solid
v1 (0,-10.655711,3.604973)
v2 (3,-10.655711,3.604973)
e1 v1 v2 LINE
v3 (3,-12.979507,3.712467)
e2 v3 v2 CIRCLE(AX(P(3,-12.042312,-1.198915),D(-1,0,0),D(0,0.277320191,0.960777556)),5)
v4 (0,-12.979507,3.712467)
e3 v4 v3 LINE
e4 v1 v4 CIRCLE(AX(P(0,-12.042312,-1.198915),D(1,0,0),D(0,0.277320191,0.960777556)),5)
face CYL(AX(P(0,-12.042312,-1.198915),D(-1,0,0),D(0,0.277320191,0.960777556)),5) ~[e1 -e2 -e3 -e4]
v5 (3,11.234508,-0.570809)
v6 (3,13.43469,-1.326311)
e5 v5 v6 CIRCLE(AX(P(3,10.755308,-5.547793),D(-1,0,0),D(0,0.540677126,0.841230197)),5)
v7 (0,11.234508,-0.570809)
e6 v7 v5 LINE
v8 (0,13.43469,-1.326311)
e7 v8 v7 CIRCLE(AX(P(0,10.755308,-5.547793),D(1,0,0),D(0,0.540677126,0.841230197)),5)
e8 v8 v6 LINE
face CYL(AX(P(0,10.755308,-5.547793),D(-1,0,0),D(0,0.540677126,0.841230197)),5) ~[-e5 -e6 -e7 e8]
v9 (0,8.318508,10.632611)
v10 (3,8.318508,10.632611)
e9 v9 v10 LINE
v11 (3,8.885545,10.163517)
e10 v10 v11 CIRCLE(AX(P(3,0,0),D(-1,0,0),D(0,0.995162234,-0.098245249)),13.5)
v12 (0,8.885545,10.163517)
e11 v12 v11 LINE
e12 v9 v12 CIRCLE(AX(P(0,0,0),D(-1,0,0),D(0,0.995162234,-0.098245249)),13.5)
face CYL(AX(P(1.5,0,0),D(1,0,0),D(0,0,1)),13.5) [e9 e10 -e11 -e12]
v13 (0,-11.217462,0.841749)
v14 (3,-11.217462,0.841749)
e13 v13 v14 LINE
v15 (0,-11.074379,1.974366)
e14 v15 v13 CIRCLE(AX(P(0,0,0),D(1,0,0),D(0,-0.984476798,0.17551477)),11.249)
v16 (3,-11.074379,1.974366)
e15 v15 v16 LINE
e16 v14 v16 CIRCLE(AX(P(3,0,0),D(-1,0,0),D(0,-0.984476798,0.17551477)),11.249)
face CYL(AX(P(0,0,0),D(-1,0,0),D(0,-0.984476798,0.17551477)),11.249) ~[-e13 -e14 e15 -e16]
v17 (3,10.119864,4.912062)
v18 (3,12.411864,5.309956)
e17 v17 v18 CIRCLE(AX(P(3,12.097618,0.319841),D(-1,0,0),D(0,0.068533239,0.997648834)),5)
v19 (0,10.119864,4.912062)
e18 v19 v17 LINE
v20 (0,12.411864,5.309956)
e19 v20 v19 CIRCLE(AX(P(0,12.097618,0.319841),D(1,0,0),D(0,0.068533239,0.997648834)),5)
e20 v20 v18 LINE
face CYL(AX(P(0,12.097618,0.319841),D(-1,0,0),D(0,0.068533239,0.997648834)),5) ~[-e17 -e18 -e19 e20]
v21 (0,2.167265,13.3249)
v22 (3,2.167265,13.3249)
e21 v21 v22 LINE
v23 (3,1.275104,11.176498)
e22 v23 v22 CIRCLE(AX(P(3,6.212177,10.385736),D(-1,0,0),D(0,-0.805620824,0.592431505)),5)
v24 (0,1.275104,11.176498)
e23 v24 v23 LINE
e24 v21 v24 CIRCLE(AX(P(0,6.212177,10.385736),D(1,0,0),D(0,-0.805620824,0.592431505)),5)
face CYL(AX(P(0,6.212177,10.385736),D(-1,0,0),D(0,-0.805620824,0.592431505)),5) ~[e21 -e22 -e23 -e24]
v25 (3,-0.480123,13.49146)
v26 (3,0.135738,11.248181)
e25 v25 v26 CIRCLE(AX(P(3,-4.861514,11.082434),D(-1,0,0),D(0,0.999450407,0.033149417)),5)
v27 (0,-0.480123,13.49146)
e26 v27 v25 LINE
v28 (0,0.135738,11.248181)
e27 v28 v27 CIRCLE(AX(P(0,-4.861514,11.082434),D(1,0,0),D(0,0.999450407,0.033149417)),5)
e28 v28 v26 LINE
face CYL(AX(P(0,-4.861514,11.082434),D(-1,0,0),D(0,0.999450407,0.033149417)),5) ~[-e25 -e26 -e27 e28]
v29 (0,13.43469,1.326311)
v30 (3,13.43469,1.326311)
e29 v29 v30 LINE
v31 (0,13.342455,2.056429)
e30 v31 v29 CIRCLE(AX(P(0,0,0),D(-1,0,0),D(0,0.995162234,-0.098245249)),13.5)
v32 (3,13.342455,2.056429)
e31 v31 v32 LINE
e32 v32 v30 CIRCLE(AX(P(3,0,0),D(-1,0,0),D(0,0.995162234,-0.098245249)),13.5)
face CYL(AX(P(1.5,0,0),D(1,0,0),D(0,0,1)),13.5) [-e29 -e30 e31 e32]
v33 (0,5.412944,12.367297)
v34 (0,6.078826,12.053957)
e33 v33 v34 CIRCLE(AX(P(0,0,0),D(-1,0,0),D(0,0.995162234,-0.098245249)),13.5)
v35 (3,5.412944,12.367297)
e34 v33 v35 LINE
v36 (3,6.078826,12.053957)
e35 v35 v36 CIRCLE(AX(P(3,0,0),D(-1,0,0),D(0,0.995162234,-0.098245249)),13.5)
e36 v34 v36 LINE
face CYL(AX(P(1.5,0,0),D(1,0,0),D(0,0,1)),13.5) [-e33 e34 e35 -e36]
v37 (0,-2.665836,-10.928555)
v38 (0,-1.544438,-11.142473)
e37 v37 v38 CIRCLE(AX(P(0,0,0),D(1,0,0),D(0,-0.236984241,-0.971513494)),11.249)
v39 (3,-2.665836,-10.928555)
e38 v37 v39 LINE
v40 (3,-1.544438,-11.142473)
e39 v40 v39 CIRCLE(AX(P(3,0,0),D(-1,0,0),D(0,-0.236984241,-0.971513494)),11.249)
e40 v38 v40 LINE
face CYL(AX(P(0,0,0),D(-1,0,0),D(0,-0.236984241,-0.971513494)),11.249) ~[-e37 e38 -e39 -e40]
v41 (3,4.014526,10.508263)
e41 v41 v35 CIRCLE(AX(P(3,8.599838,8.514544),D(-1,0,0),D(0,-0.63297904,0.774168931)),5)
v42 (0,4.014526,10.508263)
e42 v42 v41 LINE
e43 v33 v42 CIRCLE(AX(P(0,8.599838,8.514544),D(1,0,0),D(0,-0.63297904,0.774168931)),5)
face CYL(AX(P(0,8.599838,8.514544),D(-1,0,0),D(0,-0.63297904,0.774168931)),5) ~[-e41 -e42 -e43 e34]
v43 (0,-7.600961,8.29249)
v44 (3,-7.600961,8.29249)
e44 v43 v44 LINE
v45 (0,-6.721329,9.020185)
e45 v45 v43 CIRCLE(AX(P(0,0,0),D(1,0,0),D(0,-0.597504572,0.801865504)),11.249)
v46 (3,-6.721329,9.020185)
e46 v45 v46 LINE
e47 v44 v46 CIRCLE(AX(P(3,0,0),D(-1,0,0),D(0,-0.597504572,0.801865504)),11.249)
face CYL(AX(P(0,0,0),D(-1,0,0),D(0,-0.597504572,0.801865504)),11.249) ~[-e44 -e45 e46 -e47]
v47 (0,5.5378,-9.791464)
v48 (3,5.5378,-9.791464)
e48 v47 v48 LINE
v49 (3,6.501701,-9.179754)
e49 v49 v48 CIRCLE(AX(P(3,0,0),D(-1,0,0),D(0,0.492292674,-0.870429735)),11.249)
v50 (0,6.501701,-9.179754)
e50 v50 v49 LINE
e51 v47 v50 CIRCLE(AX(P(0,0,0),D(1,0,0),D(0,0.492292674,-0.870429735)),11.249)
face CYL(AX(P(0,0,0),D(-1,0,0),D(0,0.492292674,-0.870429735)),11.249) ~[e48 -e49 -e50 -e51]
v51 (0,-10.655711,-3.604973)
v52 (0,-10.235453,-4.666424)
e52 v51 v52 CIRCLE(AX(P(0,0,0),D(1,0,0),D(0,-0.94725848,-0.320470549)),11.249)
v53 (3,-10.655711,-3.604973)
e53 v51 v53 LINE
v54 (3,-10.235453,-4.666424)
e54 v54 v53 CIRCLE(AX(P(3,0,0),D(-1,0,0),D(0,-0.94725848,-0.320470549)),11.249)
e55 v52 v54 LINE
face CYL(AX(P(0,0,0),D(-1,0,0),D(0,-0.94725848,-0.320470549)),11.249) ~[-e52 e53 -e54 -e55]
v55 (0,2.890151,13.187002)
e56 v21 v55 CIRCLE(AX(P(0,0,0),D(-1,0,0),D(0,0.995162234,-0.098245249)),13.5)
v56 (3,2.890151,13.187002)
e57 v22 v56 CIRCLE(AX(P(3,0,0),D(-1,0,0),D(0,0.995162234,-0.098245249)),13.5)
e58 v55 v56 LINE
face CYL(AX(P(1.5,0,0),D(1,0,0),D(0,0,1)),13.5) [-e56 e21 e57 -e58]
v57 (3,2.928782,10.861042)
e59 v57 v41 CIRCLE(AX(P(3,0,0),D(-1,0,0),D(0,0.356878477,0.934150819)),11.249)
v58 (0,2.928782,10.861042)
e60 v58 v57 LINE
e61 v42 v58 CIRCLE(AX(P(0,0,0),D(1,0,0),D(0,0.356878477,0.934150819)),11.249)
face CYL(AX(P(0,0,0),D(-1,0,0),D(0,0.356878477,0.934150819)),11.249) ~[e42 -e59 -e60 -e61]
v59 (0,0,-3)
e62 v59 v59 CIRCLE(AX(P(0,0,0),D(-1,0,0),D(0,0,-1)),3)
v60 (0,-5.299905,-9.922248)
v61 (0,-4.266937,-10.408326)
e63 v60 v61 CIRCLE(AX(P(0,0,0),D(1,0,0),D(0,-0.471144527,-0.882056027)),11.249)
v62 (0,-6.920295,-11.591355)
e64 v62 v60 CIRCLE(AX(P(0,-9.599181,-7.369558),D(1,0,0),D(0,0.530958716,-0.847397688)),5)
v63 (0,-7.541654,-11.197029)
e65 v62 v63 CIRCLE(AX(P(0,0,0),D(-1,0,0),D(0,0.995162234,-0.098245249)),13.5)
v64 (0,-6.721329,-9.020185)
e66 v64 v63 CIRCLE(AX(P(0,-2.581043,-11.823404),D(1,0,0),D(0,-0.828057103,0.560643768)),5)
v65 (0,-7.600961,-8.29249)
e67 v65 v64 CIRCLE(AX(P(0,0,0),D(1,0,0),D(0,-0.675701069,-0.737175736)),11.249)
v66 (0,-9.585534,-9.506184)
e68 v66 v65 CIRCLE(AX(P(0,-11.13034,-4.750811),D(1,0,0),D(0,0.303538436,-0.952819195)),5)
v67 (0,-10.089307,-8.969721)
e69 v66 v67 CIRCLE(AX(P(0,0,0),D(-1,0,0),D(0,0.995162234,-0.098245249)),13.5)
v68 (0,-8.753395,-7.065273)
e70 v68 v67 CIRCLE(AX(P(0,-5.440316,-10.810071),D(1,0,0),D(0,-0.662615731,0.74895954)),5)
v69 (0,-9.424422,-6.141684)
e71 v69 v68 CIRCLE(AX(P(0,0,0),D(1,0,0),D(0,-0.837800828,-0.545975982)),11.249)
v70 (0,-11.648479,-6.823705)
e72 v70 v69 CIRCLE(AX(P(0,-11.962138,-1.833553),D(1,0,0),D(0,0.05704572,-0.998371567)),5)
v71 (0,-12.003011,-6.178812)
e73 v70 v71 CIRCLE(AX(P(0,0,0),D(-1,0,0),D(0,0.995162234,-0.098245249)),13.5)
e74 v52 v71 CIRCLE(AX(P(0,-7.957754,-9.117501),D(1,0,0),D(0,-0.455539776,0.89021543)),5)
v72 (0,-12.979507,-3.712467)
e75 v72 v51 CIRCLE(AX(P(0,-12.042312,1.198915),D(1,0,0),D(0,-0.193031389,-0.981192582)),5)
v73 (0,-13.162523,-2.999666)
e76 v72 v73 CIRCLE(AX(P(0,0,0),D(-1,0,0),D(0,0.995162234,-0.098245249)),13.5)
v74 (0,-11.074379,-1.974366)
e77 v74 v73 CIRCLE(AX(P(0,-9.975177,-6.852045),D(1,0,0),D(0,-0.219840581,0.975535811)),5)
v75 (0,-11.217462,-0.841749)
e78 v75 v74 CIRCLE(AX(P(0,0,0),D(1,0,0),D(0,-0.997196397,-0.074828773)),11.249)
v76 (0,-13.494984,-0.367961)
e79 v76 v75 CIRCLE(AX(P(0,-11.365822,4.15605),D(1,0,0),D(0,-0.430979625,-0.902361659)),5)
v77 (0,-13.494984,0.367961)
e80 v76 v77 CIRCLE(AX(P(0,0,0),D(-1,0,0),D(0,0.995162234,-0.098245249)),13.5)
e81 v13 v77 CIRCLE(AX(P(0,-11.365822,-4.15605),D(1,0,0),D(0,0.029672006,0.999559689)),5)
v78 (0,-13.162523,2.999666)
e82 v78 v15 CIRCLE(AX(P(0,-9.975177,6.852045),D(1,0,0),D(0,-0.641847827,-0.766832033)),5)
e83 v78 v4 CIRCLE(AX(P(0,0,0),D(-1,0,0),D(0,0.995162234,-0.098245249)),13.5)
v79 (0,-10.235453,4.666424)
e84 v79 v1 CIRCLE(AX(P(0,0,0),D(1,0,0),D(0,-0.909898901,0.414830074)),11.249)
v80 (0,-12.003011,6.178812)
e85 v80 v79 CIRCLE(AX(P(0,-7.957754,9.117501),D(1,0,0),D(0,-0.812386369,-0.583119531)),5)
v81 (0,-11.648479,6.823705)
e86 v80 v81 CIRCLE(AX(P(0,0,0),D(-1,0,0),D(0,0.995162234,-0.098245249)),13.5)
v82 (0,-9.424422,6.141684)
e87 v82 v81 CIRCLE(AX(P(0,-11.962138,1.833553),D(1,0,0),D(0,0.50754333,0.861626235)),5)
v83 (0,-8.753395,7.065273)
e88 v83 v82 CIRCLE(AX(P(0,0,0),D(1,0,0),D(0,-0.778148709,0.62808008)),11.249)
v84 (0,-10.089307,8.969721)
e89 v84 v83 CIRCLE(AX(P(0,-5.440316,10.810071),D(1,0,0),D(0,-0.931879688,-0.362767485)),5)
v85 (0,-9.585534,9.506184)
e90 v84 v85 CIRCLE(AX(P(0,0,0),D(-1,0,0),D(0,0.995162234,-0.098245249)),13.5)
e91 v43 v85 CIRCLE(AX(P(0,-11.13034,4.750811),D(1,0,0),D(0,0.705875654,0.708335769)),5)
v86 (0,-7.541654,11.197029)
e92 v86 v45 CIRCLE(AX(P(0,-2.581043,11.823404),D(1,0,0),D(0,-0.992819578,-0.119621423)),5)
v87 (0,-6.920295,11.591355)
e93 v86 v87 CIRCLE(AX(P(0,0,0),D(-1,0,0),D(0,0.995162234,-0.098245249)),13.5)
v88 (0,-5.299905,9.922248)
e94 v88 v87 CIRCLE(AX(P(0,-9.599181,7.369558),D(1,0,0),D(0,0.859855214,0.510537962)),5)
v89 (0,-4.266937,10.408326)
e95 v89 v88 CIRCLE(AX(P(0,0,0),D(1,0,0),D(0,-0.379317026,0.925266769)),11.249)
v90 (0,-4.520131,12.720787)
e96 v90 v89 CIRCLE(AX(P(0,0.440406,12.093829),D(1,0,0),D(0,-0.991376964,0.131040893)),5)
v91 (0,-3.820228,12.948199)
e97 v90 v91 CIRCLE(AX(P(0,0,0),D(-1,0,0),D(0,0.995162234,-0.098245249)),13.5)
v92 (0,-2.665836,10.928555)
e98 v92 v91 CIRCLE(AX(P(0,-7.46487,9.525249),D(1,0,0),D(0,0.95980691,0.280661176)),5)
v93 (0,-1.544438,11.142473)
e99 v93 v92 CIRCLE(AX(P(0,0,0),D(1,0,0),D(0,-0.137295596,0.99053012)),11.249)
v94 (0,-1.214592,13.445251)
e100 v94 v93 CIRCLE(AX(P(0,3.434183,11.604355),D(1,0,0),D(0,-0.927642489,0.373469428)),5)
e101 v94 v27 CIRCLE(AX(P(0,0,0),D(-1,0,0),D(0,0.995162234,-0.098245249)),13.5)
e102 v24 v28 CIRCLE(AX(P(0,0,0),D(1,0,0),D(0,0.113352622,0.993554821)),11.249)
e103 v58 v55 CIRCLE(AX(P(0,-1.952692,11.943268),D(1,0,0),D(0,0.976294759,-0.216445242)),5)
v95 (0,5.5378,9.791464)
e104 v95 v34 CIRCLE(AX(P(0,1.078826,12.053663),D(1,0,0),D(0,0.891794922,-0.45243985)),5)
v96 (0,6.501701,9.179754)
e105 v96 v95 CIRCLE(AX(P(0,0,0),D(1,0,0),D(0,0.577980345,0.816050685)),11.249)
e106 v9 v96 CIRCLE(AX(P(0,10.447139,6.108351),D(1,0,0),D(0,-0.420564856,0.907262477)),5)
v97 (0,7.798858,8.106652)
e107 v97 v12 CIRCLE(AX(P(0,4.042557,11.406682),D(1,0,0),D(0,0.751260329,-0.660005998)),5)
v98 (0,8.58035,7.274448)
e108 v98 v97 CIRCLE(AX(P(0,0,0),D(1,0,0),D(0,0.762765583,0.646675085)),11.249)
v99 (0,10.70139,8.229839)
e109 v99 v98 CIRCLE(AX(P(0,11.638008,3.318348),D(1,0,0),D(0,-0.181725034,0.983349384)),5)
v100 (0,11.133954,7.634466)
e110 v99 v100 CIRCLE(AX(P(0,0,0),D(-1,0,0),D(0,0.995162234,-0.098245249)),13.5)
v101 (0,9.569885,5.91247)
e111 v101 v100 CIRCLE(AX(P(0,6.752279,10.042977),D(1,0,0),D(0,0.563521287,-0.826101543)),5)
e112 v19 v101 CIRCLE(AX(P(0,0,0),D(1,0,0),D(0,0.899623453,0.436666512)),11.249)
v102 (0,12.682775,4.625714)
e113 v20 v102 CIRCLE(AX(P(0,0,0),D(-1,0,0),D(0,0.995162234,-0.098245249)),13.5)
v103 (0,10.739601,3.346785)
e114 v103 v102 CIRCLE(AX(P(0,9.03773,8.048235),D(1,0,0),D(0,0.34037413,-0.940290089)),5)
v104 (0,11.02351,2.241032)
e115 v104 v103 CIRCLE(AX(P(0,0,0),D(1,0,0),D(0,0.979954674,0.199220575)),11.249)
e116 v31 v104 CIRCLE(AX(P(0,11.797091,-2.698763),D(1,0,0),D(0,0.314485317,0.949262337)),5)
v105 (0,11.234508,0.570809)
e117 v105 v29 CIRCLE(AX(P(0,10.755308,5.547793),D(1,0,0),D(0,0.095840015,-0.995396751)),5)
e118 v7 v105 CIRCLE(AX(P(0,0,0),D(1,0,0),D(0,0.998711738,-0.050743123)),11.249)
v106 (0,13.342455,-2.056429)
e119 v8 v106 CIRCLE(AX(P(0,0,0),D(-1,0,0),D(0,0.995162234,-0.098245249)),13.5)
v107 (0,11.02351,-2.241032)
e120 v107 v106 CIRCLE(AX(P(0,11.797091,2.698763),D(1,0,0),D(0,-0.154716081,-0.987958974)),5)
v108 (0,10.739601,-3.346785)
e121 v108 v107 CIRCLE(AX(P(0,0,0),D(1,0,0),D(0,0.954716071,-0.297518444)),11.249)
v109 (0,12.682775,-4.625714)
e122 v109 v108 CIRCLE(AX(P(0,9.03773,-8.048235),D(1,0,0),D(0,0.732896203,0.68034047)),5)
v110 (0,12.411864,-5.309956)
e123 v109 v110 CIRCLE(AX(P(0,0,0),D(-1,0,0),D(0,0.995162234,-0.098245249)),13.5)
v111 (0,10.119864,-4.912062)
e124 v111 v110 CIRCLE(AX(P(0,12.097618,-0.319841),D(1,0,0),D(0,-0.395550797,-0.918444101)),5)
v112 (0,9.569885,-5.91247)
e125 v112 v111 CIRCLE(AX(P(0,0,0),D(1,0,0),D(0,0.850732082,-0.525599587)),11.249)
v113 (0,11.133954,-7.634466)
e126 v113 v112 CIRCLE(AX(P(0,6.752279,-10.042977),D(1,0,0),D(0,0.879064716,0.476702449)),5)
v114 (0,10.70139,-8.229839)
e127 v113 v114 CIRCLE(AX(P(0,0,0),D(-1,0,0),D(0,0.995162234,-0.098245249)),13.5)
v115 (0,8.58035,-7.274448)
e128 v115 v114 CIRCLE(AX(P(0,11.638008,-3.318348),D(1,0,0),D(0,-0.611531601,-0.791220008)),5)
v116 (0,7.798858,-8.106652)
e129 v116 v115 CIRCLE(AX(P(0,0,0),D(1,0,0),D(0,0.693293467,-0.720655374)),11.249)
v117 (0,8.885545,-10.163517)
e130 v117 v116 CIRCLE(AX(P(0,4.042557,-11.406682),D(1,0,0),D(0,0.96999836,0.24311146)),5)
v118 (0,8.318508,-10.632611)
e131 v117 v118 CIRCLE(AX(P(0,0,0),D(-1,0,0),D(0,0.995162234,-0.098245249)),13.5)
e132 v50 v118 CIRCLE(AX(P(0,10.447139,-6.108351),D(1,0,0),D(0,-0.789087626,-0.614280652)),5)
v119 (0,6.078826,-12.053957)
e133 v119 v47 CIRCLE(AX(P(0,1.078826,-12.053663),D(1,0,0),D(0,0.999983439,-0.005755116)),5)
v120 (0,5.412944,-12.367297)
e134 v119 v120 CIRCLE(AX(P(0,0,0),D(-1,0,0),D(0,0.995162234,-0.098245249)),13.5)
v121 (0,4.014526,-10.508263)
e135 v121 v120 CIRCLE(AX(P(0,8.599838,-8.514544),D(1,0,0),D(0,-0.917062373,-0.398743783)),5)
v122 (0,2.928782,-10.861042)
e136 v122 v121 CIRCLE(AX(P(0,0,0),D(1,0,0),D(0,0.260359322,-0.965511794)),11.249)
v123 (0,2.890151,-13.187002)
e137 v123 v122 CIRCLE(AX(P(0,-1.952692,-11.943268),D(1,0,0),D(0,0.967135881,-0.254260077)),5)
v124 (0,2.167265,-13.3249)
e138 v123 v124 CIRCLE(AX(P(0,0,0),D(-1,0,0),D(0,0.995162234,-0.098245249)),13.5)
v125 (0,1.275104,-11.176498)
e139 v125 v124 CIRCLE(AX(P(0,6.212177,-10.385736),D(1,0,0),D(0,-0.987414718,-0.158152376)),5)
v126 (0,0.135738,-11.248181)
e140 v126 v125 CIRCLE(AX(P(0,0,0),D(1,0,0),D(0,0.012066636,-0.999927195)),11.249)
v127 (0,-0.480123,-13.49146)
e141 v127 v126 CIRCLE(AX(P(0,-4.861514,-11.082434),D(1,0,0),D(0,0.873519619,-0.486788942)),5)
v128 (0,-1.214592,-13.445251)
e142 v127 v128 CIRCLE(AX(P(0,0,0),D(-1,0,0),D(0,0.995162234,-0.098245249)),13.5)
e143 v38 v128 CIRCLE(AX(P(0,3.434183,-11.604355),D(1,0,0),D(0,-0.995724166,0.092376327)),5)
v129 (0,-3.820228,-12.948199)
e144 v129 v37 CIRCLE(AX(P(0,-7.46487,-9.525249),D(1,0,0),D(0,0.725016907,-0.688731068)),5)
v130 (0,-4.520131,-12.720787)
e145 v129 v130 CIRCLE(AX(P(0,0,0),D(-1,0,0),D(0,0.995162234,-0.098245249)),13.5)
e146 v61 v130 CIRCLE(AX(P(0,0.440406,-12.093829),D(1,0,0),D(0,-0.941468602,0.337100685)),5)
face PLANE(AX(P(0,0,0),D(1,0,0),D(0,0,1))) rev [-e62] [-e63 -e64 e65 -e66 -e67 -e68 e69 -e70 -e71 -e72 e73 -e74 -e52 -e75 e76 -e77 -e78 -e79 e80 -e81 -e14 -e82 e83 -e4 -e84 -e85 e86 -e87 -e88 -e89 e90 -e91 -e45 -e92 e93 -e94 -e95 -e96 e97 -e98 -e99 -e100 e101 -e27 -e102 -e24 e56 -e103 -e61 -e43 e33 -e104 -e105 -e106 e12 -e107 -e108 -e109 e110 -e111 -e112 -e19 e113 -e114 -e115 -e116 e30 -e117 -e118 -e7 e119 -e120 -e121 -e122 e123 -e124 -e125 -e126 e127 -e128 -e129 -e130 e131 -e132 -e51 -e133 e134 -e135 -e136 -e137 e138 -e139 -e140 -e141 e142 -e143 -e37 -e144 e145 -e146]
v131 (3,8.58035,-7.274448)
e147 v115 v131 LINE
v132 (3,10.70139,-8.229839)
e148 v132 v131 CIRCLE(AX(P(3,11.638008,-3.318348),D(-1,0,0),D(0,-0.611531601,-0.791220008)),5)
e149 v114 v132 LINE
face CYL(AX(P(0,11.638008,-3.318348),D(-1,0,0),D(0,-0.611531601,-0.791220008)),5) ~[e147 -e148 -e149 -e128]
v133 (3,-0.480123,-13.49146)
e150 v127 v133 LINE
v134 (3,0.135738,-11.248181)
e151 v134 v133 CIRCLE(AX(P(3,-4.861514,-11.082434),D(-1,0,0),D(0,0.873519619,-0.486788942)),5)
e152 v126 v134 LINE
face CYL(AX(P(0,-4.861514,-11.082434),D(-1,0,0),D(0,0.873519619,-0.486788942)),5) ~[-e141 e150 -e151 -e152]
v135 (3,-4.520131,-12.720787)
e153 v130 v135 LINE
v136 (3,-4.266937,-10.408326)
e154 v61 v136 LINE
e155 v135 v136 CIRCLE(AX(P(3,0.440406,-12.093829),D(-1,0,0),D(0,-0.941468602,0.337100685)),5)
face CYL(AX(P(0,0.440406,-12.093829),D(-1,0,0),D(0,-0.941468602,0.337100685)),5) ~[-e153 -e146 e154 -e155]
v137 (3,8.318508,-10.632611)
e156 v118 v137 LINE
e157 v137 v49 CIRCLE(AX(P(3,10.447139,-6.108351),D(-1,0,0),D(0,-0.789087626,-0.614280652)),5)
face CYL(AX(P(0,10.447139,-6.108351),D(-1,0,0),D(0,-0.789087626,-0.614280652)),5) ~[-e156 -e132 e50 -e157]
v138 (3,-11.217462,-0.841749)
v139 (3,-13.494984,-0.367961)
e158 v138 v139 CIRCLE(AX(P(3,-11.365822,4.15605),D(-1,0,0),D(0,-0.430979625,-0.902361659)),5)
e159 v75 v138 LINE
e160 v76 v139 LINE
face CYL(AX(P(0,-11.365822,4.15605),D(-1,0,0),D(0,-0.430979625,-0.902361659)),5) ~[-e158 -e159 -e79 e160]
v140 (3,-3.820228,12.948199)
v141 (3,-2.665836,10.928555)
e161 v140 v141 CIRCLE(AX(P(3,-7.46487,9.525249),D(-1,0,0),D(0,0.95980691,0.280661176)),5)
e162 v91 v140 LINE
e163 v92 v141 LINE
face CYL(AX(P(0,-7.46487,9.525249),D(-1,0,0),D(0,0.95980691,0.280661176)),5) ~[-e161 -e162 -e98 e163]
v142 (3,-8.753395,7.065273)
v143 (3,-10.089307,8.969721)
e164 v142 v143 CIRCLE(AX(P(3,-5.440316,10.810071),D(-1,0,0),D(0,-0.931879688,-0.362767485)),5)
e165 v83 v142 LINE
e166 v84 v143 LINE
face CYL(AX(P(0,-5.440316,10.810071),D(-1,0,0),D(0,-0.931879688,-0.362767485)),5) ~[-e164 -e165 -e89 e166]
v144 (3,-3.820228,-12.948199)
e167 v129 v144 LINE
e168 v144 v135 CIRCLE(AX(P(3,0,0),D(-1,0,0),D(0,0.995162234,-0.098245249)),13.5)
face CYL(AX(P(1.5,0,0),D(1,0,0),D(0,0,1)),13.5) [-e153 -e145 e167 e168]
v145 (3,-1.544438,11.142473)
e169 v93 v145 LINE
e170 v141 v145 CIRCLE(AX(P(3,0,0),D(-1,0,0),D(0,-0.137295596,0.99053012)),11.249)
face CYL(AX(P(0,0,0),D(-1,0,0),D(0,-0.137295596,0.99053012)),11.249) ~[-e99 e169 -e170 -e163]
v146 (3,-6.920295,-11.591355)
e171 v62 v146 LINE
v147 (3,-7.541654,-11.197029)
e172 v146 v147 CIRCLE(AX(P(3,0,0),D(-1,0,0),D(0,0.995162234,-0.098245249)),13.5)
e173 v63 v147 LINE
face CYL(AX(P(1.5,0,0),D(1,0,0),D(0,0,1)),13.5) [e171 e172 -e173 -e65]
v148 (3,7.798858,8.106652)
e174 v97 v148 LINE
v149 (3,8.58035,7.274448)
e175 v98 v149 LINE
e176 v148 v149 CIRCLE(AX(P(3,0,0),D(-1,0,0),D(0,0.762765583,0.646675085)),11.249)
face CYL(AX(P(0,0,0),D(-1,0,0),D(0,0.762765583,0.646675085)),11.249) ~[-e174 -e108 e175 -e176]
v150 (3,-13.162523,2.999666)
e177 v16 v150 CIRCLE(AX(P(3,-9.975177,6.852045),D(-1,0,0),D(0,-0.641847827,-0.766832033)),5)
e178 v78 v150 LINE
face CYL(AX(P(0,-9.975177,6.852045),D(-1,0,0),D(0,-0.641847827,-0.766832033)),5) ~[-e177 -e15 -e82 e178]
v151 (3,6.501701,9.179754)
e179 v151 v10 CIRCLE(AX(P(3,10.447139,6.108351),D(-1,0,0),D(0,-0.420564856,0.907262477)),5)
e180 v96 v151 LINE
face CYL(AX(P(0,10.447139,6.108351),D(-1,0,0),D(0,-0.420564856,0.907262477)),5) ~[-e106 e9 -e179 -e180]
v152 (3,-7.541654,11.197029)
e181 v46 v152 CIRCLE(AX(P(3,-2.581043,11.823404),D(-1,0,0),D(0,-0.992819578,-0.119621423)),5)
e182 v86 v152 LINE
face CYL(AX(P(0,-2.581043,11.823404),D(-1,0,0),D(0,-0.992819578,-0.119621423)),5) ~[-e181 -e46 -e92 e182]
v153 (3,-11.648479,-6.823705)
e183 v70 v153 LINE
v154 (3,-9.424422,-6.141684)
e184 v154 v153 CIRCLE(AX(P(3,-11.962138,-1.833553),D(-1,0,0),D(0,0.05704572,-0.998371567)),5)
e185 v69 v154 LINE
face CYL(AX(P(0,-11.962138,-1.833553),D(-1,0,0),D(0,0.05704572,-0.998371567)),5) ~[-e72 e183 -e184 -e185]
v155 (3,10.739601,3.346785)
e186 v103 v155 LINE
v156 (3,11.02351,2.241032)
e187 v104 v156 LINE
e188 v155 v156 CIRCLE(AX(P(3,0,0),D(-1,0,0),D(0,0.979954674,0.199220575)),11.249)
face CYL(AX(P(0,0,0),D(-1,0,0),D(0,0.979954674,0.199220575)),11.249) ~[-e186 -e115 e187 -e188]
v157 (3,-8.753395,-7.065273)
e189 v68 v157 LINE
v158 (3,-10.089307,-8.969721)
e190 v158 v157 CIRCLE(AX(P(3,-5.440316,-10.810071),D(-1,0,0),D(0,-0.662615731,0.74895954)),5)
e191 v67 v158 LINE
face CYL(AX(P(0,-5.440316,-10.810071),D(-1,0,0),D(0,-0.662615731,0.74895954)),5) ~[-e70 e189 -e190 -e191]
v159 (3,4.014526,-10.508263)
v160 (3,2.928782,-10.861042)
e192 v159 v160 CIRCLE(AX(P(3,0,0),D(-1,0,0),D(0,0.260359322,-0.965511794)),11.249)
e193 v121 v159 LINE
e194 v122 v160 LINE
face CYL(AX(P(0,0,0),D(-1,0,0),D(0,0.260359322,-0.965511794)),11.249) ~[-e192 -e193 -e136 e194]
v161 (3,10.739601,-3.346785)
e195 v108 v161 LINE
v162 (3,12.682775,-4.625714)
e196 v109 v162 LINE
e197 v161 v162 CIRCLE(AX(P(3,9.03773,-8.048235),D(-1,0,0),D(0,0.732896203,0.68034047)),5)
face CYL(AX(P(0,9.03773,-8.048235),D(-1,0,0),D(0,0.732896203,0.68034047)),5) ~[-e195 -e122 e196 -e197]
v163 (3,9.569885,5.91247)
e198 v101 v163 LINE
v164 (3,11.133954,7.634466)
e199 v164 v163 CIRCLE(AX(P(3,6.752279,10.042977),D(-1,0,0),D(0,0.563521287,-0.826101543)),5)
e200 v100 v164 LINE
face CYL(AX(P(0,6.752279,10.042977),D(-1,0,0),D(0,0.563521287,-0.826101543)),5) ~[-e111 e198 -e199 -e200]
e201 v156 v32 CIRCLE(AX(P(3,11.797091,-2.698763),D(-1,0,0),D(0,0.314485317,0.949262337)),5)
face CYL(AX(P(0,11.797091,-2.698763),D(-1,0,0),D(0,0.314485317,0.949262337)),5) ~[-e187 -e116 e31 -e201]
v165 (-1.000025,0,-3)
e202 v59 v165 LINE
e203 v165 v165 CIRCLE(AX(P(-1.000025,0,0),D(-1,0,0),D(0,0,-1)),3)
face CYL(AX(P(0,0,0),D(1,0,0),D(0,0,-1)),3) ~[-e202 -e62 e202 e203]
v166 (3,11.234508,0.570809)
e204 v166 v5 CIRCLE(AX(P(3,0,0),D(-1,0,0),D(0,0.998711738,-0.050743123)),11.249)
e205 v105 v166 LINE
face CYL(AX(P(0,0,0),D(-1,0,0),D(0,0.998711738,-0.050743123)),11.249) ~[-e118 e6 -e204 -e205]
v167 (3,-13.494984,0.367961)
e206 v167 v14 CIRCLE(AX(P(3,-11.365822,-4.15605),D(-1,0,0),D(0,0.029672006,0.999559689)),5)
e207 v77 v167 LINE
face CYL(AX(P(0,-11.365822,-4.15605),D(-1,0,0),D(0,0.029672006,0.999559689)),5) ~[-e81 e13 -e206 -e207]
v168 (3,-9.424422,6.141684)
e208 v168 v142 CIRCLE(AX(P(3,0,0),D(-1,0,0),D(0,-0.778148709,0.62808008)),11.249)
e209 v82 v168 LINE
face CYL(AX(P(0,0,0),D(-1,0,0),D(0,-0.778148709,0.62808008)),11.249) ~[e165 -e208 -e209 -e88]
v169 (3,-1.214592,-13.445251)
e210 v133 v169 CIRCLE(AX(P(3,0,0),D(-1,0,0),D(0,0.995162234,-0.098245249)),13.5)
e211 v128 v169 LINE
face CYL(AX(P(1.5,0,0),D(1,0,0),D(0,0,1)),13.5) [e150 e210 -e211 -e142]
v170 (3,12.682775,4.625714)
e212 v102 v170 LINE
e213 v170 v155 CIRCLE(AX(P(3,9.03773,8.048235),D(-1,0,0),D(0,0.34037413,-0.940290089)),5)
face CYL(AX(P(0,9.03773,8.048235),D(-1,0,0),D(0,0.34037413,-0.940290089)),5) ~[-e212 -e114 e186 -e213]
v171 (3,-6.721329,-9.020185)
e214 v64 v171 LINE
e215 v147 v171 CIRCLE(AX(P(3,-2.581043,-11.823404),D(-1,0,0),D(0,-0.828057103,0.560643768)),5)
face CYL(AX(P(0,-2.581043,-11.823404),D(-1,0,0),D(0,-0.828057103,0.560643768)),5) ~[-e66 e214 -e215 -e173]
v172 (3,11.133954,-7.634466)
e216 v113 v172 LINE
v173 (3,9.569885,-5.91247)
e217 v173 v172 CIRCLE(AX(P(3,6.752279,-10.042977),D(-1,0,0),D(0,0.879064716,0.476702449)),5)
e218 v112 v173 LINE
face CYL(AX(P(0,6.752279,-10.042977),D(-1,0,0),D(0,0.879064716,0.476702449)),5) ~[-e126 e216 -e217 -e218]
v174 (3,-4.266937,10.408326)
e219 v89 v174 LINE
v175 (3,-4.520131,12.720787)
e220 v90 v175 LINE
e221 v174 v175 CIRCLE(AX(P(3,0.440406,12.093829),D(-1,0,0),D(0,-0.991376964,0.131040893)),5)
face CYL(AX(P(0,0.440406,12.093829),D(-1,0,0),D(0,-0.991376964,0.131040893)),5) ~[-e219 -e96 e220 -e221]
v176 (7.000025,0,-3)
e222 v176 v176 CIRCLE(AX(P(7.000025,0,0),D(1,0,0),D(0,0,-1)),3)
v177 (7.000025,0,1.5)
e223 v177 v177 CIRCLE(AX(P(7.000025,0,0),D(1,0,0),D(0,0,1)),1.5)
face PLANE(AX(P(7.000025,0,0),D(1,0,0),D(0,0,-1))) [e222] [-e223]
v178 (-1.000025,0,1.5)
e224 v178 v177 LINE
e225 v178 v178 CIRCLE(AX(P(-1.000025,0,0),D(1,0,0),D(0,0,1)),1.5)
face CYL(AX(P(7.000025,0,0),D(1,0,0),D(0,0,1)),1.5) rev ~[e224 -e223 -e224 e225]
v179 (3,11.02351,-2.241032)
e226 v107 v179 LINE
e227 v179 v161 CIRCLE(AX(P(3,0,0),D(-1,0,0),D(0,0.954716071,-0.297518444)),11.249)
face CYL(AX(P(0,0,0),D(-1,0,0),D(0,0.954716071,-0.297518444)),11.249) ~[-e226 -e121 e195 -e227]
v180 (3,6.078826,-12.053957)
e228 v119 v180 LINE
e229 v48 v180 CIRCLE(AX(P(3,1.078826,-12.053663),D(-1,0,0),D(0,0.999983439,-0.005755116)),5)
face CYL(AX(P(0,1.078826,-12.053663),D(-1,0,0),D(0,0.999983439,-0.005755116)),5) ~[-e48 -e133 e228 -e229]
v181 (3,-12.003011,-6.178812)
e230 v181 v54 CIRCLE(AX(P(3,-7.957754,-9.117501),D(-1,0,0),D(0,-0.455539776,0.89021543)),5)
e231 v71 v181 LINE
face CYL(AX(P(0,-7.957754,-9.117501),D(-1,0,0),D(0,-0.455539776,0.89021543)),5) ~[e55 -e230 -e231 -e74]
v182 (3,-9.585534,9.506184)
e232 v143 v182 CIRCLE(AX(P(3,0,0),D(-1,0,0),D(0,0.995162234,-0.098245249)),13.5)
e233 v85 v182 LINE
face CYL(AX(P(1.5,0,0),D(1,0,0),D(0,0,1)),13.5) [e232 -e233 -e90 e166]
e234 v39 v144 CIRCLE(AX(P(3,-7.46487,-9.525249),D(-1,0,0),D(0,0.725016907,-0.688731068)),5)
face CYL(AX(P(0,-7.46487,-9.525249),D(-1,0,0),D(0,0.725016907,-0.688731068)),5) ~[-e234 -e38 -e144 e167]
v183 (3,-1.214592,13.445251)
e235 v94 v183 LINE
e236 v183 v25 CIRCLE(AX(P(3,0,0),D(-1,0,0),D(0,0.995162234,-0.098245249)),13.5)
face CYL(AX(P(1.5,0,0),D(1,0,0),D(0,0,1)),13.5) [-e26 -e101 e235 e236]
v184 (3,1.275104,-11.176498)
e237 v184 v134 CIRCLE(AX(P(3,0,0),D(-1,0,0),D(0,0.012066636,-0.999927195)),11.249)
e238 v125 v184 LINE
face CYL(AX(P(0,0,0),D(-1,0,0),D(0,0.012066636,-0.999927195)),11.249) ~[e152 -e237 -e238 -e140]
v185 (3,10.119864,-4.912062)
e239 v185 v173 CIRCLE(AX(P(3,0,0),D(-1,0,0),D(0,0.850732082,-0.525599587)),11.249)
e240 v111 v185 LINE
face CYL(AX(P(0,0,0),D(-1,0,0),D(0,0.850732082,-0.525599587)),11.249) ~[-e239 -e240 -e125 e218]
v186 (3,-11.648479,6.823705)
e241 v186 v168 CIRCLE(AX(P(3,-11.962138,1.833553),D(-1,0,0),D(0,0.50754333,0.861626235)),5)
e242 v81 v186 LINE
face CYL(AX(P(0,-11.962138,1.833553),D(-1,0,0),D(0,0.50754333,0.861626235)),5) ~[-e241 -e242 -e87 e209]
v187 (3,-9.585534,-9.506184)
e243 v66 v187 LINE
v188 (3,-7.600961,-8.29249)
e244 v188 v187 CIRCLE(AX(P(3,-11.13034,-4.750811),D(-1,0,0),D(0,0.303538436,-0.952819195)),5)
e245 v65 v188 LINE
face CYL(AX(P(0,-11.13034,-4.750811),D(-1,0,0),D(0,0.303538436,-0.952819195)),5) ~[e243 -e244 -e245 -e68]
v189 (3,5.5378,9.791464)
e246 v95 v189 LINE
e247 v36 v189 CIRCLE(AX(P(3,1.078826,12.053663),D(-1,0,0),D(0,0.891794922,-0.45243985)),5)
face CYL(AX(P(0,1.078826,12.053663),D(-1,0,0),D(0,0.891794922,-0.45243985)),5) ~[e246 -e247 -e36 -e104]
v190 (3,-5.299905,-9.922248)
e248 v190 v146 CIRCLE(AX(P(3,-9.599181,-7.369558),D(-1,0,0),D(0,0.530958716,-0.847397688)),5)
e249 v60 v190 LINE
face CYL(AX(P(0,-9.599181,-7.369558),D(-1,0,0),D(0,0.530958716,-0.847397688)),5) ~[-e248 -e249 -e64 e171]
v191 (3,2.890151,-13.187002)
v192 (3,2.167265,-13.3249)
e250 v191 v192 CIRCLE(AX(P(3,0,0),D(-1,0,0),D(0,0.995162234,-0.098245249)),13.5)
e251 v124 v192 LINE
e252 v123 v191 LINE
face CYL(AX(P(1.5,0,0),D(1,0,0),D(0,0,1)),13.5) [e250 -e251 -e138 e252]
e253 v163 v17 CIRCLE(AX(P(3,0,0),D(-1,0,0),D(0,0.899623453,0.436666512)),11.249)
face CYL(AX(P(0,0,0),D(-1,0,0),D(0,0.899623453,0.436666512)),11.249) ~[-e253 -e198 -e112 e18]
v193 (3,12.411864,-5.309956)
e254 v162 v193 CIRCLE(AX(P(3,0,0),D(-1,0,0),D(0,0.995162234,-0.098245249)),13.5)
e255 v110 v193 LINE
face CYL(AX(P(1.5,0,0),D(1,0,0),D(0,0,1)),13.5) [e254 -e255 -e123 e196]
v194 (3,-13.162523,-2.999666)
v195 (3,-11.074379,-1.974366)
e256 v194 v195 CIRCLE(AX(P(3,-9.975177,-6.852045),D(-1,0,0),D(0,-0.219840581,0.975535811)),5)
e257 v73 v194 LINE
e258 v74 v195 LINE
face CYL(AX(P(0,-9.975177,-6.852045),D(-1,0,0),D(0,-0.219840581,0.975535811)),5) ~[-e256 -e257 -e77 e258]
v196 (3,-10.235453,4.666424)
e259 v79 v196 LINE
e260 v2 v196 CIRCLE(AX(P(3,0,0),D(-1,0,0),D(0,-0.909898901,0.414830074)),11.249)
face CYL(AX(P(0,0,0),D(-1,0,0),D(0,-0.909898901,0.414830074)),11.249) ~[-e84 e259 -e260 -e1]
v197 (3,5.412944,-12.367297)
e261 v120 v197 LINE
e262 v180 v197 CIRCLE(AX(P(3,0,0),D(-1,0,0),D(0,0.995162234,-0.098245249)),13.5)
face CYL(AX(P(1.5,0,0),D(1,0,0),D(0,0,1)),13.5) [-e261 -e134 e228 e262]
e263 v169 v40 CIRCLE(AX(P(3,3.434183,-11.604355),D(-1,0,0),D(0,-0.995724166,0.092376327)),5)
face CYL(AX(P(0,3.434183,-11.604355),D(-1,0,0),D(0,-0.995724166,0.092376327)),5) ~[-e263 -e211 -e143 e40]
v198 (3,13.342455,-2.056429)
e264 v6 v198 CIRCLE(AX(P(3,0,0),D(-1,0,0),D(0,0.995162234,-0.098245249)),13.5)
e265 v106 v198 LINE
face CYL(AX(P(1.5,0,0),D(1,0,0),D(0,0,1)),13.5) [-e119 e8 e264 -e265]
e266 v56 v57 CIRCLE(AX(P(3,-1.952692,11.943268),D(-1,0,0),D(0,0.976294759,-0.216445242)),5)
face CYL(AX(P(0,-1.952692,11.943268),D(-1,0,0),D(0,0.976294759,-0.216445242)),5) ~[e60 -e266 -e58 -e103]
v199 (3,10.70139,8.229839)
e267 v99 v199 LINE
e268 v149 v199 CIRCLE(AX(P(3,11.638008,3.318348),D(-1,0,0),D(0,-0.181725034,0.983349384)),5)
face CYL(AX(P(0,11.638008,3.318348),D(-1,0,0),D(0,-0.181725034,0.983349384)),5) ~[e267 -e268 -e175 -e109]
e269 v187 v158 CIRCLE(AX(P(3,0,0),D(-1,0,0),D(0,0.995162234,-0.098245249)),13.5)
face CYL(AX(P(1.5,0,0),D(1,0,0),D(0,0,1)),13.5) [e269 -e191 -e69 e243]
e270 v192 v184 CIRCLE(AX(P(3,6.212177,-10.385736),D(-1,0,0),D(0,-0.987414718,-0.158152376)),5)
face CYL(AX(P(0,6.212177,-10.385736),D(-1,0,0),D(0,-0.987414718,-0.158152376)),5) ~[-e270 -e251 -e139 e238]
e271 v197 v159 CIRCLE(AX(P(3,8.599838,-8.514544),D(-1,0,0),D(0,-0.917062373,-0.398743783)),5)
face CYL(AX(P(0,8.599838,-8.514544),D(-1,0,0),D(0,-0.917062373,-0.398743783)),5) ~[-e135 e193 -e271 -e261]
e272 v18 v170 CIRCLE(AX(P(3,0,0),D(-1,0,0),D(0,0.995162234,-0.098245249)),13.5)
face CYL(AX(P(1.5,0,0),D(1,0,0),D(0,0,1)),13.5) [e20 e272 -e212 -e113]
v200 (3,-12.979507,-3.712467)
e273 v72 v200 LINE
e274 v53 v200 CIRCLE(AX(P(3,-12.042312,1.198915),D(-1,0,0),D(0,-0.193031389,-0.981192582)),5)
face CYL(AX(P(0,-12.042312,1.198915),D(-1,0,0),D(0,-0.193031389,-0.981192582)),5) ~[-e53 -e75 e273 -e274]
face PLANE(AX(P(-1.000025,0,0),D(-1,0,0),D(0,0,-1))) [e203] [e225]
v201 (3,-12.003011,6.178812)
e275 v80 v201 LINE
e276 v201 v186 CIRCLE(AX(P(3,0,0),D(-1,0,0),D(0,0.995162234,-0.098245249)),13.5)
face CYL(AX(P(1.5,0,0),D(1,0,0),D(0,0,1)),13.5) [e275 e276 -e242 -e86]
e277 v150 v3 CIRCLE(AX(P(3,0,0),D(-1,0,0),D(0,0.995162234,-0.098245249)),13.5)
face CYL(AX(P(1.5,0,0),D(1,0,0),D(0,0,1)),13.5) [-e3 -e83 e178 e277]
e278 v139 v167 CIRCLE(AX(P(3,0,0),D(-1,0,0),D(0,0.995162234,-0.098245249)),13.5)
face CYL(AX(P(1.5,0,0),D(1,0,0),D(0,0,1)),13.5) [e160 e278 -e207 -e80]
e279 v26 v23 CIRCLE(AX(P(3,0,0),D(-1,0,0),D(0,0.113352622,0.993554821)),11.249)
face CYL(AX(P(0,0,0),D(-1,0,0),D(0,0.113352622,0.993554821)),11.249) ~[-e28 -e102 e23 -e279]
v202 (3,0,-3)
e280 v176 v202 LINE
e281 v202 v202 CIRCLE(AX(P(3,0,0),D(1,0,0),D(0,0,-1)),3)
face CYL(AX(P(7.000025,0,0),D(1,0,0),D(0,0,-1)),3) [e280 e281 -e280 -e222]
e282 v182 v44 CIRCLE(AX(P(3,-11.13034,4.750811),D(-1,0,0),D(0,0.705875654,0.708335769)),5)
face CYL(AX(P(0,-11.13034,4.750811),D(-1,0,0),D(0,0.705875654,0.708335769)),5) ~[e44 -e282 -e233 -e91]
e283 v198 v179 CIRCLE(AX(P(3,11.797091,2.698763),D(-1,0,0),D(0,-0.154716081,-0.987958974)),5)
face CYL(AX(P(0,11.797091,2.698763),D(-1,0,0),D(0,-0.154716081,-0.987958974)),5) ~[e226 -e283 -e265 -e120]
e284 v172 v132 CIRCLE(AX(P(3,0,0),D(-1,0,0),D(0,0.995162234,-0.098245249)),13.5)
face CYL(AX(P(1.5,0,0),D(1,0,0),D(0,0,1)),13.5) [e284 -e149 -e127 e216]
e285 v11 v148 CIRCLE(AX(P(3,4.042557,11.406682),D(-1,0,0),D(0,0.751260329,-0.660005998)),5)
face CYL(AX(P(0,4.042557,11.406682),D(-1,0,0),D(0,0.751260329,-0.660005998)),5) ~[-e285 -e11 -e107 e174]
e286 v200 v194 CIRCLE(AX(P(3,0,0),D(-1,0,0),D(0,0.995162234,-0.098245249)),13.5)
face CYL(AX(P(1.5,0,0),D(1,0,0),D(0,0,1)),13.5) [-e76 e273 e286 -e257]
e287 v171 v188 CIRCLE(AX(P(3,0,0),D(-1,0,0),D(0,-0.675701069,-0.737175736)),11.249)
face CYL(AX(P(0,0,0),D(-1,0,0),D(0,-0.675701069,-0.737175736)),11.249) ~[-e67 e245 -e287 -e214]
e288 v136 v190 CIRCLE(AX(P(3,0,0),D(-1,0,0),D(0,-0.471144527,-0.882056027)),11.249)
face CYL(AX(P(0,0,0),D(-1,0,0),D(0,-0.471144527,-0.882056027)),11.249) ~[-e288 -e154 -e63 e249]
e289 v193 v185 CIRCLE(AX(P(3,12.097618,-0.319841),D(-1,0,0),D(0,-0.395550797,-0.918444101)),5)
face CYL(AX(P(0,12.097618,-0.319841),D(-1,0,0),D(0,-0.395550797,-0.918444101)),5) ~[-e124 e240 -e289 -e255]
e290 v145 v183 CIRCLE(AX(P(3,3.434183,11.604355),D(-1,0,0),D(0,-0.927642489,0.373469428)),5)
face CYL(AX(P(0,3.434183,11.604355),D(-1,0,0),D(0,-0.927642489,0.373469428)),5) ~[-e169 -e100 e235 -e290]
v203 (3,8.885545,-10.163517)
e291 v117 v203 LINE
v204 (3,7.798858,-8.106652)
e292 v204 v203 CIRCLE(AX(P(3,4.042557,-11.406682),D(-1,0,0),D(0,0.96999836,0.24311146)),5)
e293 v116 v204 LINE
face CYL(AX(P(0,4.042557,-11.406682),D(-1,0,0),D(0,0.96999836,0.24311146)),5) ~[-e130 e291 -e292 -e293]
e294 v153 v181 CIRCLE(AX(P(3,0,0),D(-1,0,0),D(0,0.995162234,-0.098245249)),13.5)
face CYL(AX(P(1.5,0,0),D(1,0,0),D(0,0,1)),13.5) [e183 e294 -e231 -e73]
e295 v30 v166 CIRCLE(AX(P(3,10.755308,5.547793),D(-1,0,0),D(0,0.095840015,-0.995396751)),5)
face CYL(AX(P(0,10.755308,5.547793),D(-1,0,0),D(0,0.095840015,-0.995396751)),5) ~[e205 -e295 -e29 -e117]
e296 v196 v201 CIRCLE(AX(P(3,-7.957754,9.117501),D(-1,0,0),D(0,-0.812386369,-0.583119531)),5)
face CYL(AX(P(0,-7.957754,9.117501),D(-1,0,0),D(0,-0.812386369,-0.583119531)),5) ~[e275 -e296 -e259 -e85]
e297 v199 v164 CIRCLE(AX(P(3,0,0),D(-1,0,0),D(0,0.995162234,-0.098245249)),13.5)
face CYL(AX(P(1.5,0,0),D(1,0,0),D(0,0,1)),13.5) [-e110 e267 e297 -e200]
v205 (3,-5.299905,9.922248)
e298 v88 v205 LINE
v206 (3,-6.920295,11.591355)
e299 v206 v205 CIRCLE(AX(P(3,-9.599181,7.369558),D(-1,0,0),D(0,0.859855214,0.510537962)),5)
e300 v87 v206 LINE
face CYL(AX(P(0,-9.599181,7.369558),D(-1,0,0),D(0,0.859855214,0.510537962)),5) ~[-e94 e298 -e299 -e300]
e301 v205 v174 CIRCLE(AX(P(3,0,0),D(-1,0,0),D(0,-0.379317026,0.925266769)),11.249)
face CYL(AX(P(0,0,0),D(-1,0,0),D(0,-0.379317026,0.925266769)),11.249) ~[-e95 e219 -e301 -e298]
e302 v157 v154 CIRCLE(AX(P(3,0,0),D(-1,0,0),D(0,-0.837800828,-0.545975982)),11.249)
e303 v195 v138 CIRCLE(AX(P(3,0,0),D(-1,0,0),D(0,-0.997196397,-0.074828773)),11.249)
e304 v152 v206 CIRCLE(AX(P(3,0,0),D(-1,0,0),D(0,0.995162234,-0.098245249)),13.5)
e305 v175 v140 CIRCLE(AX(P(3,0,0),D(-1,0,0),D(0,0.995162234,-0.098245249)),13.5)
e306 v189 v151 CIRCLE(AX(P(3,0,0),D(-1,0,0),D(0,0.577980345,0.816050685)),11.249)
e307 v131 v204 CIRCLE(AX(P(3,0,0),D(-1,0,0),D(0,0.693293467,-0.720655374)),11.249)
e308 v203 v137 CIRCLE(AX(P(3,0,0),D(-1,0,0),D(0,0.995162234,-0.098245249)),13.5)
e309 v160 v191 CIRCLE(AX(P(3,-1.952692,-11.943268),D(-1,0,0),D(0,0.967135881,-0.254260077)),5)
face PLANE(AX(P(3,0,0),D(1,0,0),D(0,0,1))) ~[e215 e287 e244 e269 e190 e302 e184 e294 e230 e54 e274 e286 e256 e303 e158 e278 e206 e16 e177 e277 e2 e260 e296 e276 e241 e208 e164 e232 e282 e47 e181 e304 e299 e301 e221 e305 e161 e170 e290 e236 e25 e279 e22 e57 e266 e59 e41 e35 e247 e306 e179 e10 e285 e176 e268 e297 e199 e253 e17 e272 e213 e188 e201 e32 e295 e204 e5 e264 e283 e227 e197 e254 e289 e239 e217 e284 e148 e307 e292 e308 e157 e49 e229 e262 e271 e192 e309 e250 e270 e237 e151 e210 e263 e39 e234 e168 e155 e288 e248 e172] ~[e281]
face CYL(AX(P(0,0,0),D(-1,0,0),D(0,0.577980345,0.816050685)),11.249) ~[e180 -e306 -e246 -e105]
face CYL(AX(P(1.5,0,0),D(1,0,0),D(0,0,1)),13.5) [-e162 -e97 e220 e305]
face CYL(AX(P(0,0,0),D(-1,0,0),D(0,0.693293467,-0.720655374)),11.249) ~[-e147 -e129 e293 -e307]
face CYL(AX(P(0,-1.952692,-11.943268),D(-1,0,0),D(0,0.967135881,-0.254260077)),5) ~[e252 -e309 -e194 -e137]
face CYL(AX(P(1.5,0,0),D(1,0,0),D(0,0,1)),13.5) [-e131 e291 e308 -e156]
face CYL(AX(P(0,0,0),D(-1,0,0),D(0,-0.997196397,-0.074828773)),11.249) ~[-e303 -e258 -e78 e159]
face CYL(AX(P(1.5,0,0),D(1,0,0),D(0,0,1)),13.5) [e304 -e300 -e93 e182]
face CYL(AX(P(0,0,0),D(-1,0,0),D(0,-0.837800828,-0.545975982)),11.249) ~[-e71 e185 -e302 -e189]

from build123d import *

# Parameters (mm, degrees)
BASPROSKE_W         = 3
BASPROSKE_H         = 13.5
TOOTHCUT_DEPTH      = 20.32614809
TEETHCUTS_COUNT     = 25
HUBNEABOTSKE_R      = 3
HUBNEARBOTH_DEPTH   = 1.0000254
HUBFAR_START        = 1.0000254
HUBFARSKE_R         = 3
HUBFAR_DEPTH        = 1.0000254
BORSKE_R            = 1.5
BORE_DEPTH          = 5.0000508
BOSS_EXTRUDE1_START = 3
SKETCH1_R           = 3
SKETCH1_R_2         = 1.5
BOSS_EXTRUDE1_DEPTH = 3


with BuildPart() as part:
    # BasProSke → Base-Revolve (revolve)
    with BuildSketch(Plane(origin=(0, 0, 0), x_dir=(1, 0, 0), z_dir=(0, 1, 0)), mode=Mode.PRIVATE) as base_revolve_sk:
        with Locations((1.5, 6.75)):
            Rectangle(BASPROSKE_W, BASPROSKE_H)
    revolve(base_revolve_sk.sketch.rotate(Axis((-10, 0, 0), (1, 0, 0)), 180), axis=Axis((-10, 0, 0), (1, 0, 0)))

    # TooCutSke → ToothCut (cut, through all)
    with BuildSketch(Plane(origin=(0, 0, 0), x_dir=(0, 0, -1), z_dir=(1, 0, 0))):
        with BuildLine():
            ThreePointArc((0.570809389, 11.23450834), (0, 11.249), (-0.570809389, 11.23450834))
            ThreePointArc((-0.570809389, 11.23450834), (-0.823468719, 12.39261054), (-1.341642157, 13.4586939))
            ThreePointArc((-1.341642157, 13.4586939), (0, 13.5254), (1.341642157, 13.4586939))
            ThreePointArc((1.341642157, 13.4586939), (0.823468719, 12.39261054), (0.570809389, 11.23450834))
        make_face()
    toothcut = extrude(amount=TOOTHCUT_DEPTH, mode=Mode.SUBTRACT)

    # TeethCuts: ToothCut ×25 about axis
    teethcuts_axis = Axis((0, 0, 0), (1, 0, 0))
    for i in range(1, TEETHCUTS_COUNT):
        add(toothcut.rotate(teethcuts_axis, i * 360 / TEETHCUTS_COUNT), mode=Mode.SUBTRACT)

    # HubNeaBotSke → HubNearBoth (add)
    with BuildSketch(Plane.ZY):
        with Locations(Location((0, 0, 0), (0, 0, 180))):
            Circle(HUBNEABOTSKE_R)
    extrude(amount=HUBNEARBOTH_DEPTH)

    # HubFarSke → HubFar (add)
    with BuildSketch(Plane(origin=(3, 0, 0), x_dir=(0, 0, -1), z_dir=(1, 0, 0)).offset(HUBFAR_START)):
        Circle(HUBFARSKE_R)
    extrude(amount=-HUBFAR_DEPTH)

    # BorSke → Bore (cut, symmetric)
    with BuildSketch(Plane(origin=(0, 0, 0), x_dir=(0, 0, -1), z_dir=(1, 0, 0))):
        with Locations(Location((0, 0, 0), (0, 0, 180))):
            Circle(BORSKE_R)
    extrude(amount=BORE_DEPTH, both=True, mode=Mode.SUBTRACT)

    # Sketch1 → Boss-Extrude1 (add)
    with BuildSketch(Plane(origin=(4.0000254, 0, 0), x_dir=(0, 0, -1), z_dir=(1, 0, 0)).offset(BOSS_EXTRUDE1_START)):
        Circle(SKETCH1_R)
        with Locations(Location((0, 0, 0), (0, 0, 180))):
            Circle(SKETCH1_R_2, mode=Mode.SUBTRACT)
    extrude(amount=-BOSS_EXTRUDE1_DEPTH)


solid = part.part
